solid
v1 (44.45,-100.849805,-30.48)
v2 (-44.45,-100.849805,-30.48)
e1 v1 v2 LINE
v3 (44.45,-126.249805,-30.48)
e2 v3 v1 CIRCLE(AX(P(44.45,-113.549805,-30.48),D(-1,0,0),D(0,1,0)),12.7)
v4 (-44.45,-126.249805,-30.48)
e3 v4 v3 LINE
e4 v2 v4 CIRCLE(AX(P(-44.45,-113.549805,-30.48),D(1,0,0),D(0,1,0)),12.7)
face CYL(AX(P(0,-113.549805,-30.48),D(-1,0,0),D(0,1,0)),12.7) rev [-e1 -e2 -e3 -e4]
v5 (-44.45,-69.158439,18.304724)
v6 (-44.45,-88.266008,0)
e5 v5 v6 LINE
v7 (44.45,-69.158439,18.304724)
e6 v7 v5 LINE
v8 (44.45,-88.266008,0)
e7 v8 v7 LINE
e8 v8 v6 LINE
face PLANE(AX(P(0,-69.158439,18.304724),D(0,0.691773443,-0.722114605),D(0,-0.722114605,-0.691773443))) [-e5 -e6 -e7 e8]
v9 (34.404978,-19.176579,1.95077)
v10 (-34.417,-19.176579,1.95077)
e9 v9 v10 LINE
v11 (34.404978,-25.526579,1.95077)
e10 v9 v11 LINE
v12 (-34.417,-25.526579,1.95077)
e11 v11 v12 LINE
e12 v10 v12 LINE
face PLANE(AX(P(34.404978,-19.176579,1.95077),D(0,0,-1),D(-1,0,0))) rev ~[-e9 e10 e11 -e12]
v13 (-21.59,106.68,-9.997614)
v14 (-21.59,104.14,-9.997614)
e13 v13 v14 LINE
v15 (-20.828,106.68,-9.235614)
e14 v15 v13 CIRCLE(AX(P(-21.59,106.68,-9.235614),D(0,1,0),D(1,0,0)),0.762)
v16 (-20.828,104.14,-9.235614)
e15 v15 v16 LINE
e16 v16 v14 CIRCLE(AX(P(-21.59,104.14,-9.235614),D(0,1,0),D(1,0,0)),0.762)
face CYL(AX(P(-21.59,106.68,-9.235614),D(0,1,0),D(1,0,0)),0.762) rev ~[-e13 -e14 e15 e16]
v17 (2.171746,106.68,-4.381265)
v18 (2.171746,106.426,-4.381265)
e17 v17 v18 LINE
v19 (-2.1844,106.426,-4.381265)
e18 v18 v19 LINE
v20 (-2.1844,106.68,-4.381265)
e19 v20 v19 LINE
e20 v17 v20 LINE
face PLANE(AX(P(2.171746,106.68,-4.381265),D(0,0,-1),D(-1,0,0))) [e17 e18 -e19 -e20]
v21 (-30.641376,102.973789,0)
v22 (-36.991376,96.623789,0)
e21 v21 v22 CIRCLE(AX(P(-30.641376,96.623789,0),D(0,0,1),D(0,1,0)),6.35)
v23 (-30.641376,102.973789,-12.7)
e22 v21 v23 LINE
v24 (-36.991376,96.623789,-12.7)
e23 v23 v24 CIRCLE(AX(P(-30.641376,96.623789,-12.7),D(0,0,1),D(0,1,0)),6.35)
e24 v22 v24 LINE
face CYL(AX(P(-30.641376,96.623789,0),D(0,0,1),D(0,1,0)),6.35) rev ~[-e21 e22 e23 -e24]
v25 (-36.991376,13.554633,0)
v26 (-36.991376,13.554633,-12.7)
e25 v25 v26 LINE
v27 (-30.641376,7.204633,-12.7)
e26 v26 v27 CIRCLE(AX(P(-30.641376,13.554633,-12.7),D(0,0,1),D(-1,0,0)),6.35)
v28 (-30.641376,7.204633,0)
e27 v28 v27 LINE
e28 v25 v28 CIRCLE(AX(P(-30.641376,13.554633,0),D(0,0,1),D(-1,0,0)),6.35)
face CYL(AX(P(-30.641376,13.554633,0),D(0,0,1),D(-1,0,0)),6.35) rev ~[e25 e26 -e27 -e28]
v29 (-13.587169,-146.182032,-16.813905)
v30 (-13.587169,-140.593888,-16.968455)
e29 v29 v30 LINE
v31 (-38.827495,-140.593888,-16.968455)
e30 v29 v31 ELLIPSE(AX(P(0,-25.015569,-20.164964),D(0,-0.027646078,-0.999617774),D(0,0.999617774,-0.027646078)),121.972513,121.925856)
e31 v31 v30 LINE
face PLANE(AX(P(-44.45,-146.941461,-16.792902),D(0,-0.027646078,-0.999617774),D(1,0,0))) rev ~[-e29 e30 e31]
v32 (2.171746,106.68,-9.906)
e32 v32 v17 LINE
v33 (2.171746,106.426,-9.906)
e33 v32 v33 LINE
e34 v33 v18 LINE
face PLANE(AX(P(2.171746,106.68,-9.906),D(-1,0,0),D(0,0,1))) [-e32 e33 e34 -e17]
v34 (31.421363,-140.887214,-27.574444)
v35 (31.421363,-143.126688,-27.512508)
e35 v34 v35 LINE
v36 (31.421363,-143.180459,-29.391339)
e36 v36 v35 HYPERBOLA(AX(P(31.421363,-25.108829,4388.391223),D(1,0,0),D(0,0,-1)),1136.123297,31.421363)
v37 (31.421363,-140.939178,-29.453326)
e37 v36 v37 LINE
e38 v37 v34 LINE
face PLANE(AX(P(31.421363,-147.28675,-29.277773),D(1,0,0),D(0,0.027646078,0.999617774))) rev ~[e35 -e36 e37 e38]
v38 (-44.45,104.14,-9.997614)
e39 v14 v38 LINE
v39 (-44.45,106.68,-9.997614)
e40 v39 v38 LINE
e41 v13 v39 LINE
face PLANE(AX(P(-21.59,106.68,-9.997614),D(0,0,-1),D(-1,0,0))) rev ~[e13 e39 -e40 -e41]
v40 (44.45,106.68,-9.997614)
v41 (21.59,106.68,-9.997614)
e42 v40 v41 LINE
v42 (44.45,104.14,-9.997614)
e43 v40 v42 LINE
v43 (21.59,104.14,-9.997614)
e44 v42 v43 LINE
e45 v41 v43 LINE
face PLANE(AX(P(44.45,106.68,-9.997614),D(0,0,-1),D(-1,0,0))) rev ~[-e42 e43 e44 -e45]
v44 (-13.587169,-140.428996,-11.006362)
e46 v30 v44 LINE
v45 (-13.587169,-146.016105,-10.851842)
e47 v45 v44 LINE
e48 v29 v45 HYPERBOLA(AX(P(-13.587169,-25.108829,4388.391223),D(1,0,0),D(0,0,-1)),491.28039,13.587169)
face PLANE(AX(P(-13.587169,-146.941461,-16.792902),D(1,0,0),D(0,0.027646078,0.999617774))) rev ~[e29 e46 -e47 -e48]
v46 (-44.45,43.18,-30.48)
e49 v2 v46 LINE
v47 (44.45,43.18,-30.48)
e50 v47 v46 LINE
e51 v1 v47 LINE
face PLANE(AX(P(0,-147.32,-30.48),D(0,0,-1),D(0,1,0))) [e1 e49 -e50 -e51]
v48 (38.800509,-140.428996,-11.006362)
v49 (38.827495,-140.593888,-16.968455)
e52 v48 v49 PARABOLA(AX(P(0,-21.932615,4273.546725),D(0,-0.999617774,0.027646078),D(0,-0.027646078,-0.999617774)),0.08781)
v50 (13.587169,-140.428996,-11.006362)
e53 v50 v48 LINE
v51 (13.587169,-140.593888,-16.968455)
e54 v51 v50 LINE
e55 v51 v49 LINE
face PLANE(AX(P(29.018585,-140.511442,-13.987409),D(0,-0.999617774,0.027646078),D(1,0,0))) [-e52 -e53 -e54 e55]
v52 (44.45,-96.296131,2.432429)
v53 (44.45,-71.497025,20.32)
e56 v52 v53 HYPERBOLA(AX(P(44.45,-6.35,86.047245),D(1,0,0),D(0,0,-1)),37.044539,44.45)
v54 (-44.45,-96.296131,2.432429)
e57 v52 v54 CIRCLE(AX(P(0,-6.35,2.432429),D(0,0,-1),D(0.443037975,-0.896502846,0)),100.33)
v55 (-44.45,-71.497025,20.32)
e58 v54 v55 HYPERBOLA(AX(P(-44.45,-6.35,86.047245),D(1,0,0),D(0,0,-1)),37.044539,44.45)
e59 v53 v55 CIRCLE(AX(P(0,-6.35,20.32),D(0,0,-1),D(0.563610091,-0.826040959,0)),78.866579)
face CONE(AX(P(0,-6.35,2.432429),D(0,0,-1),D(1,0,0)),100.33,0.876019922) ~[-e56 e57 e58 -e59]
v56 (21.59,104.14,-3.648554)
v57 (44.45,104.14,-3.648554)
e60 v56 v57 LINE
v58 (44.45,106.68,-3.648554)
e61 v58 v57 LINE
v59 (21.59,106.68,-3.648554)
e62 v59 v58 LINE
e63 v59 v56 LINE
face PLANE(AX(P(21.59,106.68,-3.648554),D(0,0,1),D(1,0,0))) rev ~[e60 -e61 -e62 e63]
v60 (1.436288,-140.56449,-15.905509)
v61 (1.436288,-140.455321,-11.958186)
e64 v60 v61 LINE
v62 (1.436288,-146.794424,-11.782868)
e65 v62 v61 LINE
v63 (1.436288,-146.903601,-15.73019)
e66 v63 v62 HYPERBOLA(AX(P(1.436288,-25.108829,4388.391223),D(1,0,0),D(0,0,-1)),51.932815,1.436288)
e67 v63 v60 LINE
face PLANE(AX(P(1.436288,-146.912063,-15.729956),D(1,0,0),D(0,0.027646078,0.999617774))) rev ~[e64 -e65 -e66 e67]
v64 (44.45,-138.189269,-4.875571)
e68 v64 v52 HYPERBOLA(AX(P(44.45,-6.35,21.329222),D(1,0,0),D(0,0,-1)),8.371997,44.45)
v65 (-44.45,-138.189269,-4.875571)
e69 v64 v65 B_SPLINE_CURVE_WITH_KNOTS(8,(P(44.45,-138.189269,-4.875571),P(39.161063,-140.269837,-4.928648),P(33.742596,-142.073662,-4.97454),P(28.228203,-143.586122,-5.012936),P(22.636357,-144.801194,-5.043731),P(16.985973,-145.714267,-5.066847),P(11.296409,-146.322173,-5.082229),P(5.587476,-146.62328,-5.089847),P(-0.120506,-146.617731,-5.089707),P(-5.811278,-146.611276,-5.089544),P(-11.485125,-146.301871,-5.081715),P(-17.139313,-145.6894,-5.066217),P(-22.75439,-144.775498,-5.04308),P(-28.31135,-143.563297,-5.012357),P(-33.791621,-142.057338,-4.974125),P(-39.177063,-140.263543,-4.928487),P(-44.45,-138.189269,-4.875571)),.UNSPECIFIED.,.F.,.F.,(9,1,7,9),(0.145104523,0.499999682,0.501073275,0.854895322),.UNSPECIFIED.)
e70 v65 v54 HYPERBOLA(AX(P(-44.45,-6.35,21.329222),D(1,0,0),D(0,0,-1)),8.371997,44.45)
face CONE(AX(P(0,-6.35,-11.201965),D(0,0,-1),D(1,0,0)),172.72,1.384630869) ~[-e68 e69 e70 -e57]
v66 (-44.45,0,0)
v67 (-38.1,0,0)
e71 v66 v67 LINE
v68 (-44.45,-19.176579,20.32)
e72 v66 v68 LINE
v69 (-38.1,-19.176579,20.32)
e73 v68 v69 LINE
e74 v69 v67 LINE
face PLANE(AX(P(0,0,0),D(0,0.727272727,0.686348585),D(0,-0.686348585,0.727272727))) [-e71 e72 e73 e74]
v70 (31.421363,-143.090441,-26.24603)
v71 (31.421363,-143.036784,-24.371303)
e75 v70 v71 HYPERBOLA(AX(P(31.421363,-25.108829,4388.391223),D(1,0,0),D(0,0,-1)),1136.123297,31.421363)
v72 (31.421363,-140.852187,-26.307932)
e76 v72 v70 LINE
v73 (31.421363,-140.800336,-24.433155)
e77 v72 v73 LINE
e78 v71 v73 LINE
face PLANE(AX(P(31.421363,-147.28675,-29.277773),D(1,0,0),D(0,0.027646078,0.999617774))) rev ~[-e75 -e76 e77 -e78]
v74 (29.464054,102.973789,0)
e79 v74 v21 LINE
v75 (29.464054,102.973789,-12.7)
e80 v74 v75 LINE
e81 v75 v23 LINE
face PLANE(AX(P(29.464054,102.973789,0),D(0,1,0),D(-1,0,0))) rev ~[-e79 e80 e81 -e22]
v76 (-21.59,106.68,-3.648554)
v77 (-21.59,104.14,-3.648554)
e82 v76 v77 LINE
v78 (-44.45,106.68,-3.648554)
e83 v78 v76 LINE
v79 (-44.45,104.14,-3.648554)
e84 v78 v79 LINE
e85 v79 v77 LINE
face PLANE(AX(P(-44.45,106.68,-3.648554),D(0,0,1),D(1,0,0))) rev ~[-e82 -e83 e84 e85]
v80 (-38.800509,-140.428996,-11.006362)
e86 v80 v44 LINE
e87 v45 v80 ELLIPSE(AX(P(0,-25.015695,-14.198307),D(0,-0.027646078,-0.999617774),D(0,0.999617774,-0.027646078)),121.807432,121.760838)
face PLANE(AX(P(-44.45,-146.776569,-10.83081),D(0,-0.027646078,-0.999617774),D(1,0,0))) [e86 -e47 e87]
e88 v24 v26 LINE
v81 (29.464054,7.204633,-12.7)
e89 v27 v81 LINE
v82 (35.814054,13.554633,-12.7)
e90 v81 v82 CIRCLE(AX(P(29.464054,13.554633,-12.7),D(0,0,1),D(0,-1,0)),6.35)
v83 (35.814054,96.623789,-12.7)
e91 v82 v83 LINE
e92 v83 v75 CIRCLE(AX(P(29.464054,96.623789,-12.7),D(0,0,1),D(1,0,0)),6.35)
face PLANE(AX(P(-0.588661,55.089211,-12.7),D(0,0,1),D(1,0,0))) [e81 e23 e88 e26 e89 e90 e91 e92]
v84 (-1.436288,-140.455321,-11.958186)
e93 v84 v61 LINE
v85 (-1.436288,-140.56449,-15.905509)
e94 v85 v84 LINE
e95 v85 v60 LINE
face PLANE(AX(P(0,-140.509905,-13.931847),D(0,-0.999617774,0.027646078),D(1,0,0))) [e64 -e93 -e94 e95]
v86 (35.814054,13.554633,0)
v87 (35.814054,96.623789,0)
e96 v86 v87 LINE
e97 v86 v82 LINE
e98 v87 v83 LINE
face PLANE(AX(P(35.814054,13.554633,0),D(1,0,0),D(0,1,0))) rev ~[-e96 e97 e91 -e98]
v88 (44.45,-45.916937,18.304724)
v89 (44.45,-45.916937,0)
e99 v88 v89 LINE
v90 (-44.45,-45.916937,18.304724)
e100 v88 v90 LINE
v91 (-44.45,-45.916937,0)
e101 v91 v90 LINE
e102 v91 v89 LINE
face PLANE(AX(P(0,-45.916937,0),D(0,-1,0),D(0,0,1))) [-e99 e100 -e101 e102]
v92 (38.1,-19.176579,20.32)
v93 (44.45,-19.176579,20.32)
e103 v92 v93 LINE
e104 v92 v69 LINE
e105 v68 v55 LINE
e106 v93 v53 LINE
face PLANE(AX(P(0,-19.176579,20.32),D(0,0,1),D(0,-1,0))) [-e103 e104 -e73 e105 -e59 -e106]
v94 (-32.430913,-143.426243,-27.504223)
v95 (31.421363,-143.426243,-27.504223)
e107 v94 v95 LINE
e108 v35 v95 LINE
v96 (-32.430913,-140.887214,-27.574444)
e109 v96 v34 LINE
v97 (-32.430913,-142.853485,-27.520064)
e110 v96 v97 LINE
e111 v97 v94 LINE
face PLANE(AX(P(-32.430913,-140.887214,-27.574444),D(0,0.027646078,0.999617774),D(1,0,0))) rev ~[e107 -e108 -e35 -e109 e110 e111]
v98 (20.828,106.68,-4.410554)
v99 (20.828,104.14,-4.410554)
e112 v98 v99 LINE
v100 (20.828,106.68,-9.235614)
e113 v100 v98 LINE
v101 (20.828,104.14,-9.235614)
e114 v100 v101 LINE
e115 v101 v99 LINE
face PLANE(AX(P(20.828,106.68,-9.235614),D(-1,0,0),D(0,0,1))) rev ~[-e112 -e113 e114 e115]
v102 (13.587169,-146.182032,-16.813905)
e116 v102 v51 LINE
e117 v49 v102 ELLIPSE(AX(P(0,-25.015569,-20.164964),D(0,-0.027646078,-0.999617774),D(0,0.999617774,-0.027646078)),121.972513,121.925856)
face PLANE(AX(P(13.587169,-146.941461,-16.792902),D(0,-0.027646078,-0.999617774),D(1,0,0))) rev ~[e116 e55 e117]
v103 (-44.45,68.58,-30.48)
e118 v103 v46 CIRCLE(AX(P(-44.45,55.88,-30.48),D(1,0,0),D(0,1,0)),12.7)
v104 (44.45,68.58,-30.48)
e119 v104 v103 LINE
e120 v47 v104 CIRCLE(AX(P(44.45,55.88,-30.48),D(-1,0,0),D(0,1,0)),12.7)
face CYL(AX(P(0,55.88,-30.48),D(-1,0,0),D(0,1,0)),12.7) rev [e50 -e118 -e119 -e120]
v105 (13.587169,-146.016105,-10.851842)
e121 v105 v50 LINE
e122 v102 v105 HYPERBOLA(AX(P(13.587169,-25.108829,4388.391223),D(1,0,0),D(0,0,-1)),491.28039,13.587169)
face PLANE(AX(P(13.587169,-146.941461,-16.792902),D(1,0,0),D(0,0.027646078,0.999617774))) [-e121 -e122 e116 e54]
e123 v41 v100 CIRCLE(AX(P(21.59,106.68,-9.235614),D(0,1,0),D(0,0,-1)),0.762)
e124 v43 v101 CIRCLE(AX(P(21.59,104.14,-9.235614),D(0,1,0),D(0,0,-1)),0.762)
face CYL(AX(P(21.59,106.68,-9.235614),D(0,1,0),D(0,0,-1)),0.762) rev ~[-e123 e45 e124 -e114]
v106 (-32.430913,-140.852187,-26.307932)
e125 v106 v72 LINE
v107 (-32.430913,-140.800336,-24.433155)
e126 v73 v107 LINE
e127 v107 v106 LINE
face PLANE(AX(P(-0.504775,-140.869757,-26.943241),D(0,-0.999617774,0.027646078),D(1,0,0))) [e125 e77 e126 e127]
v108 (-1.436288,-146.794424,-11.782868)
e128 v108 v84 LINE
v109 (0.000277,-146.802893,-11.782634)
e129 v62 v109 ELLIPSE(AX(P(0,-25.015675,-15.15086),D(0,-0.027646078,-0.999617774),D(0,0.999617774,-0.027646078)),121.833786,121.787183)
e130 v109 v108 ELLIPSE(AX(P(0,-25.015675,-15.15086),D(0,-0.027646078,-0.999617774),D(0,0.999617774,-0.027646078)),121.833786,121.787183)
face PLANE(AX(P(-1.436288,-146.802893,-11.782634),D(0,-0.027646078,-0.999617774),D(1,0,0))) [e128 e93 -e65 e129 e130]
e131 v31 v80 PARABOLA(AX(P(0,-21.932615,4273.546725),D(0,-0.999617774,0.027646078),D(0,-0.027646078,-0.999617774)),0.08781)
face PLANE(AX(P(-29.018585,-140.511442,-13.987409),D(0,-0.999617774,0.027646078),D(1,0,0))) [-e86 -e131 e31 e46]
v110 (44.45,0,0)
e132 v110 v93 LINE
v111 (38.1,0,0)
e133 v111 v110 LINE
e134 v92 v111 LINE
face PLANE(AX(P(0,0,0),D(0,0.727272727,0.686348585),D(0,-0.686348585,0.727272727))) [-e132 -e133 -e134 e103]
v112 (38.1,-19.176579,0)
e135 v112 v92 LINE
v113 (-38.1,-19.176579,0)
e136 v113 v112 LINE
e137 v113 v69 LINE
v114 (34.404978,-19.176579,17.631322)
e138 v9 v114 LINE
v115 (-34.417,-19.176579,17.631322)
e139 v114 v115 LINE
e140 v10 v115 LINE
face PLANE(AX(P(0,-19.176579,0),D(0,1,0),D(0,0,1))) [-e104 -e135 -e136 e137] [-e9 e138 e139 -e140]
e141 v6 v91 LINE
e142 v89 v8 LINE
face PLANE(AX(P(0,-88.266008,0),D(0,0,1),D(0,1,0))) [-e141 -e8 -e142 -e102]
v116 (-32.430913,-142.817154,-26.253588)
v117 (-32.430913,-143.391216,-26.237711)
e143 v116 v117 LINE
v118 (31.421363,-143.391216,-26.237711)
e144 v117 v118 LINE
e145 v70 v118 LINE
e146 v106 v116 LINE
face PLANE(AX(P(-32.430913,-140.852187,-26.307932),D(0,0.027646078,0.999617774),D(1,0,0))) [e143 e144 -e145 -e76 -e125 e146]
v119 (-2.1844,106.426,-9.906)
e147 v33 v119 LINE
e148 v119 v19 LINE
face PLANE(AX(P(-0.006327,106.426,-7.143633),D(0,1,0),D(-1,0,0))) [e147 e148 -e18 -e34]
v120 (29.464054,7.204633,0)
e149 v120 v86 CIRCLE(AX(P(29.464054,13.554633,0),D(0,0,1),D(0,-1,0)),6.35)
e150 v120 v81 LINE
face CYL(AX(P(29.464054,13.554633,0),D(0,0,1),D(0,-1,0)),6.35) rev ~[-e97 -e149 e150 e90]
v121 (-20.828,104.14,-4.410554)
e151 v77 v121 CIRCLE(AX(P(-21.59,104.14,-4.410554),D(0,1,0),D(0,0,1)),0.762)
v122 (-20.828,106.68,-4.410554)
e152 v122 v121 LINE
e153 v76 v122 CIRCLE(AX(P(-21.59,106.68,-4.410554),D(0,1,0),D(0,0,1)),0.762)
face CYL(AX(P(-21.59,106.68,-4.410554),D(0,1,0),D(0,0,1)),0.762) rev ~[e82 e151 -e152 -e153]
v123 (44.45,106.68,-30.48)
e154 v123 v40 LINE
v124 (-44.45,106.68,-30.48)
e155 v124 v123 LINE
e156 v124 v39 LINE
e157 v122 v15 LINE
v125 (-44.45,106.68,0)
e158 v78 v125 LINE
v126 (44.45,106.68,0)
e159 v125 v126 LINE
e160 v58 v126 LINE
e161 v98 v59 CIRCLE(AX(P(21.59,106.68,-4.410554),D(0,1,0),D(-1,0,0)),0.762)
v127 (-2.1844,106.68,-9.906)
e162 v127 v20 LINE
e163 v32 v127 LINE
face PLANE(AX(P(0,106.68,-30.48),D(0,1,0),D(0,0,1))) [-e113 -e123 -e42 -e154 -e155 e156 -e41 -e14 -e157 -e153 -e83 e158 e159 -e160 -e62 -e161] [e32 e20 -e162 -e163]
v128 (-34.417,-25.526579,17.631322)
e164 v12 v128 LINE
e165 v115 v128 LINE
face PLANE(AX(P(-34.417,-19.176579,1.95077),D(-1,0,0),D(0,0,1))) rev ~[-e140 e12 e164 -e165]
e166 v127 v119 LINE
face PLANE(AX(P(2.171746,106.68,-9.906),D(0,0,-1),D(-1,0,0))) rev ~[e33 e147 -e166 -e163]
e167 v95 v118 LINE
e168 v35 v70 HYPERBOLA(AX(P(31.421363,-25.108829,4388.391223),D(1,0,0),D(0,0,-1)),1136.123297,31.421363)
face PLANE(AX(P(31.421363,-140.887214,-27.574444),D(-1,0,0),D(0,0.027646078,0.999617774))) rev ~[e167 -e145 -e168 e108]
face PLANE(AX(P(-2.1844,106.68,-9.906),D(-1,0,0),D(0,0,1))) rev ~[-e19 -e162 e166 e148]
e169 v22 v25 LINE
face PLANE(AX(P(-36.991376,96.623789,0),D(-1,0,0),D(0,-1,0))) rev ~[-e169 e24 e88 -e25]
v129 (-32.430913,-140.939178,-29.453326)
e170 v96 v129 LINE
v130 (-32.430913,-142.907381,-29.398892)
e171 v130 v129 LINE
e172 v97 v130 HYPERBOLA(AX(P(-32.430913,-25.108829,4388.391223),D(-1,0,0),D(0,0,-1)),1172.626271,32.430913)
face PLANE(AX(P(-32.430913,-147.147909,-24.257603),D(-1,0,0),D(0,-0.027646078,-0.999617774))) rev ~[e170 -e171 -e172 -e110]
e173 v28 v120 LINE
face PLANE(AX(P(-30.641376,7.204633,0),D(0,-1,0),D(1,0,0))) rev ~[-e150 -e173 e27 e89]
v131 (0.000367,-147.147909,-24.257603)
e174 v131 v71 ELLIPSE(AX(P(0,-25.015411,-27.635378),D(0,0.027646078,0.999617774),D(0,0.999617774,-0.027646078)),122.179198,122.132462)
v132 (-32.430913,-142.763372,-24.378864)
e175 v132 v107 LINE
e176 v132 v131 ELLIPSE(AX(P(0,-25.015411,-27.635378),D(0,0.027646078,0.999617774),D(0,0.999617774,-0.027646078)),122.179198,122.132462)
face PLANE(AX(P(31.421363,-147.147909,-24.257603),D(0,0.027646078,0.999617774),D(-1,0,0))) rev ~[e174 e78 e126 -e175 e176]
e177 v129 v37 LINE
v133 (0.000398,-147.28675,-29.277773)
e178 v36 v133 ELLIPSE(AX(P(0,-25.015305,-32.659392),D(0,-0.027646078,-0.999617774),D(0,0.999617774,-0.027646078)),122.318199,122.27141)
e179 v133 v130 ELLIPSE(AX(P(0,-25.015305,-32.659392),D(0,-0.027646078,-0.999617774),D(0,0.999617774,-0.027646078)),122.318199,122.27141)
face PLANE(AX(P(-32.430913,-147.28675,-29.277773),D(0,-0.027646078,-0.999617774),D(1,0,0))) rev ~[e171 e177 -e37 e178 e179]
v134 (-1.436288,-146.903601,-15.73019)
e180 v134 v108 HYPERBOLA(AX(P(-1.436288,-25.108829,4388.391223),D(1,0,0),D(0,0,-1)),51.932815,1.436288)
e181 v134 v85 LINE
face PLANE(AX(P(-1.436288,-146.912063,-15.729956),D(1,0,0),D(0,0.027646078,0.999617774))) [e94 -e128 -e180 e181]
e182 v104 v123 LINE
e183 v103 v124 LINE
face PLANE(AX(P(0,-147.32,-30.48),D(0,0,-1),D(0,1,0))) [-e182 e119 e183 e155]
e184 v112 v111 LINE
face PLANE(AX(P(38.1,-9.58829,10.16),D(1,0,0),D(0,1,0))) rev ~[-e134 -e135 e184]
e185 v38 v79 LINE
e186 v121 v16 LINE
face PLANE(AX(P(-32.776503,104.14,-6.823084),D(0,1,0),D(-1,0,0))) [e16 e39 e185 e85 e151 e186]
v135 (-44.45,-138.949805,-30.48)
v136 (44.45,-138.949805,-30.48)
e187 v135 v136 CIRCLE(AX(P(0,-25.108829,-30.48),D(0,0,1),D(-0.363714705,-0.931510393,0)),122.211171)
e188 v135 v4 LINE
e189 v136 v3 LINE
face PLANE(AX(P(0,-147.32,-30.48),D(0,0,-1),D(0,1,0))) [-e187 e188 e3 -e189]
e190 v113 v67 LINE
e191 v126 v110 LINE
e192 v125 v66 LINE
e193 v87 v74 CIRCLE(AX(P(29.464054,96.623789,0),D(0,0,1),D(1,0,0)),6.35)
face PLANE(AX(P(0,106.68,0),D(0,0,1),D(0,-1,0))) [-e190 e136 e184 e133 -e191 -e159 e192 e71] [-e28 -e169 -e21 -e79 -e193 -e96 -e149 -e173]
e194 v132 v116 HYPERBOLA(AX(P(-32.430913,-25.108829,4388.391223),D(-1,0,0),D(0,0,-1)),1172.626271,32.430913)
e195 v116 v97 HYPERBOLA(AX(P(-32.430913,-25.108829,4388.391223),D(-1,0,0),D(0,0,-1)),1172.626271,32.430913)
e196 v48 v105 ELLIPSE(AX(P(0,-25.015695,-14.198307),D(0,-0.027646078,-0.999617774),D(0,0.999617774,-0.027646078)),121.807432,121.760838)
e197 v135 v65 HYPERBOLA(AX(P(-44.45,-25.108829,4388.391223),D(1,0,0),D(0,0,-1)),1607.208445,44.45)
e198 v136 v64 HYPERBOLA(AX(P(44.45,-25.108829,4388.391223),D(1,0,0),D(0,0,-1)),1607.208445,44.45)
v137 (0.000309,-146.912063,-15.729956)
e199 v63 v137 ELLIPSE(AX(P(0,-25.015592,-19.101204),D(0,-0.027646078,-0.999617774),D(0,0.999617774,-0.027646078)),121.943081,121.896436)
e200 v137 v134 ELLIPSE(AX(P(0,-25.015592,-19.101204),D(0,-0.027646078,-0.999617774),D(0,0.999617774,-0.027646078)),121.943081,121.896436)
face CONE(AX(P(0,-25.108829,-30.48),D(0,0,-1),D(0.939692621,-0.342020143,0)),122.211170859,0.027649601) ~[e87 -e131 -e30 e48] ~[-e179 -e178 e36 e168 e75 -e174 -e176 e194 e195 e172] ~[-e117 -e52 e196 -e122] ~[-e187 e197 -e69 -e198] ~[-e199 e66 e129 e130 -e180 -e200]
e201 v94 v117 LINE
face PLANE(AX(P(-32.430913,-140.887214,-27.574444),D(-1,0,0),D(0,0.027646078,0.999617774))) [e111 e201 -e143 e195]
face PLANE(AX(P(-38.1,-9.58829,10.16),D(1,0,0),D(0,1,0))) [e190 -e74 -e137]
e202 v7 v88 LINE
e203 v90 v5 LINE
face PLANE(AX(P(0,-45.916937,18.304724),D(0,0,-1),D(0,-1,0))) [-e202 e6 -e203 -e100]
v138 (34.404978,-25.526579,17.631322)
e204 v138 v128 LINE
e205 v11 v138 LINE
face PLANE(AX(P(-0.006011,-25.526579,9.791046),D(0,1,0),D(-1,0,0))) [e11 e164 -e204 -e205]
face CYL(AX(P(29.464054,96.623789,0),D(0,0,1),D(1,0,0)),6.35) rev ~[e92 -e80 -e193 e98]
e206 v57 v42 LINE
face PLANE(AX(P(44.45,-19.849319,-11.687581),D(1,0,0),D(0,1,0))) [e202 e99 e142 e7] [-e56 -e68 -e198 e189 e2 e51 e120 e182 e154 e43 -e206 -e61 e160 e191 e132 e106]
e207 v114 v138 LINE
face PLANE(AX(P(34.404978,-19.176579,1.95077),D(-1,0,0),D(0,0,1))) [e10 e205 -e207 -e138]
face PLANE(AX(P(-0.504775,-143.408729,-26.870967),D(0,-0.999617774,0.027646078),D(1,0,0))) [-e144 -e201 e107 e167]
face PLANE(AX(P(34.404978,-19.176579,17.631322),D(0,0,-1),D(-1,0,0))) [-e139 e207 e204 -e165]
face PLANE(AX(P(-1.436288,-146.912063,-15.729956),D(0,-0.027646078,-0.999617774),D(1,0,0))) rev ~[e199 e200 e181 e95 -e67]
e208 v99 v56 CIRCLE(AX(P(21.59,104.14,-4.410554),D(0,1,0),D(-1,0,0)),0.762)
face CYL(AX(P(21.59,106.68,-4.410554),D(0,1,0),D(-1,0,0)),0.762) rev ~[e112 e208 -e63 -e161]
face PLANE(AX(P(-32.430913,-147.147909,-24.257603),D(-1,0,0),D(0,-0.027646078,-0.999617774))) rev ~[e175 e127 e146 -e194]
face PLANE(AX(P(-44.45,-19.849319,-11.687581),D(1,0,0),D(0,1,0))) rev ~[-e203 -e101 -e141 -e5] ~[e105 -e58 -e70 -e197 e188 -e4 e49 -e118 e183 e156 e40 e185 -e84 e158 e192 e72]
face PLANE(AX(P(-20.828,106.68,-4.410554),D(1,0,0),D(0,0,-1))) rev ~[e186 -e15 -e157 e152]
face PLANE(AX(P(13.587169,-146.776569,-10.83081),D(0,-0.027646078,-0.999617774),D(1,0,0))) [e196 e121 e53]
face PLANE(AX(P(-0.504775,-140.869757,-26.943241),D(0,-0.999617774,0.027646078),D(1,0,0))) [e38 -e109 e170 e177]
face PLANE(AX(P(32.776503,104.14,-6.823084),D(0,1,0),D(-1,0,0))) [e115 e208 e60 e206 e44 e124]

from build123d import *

# Parameters (mm, degrees)
F1_DEPTH       = 44.45
F3_ANGLE_BACK  = 90
F3_ANGLE       = 180
F5_DEPTH       = 12.7
F7_W           = 19.1765794656
F7_H           = 20.32
F8_DEPTH       = 38.1
F9_W           = 68.8219781561
F9_H           = 15.6805519946
F10_DEPTH      = 6.35
F12_DEPTH      = 2.54
F14_DEPTH      = 44.451
F14_DEPTH_BACK = 44.451
F15_W          = 4.3561459895
F15_H          = 5.5247349744
F16_DEPTH      = 0.254
F17_W          = 30.8628306508
F17_H          = 5.9643723071
F17_W_2        = 2.8725753073
F17_H_2        = 3.9488319308
F18_DEPTH      = 6.35
F19_ANGLE_BACK = 70
F19_ANGLE      = 140
F21_DEPTH      = 44.4510001
F21_DEPTH_BACK = 44.4510001
F22_W          = 63.8522766531
F22_H          = 1.2669962529
F23_DEPTH      = 2.54


with BuildPart() as f1:
    # F0 (on Right) → F1 (new body, symmetric)
    with BuildSketch(Plane.YZ):
        Polygon((-146.6177896183, -5.0897085369), (-147.32, -30.48), (106.68, -30.48), (106.68, 0), (0, 0), (-19.1765794656, 20.32), (-85.2165794656, 20.32), (-106.68, 2.4324294841), align=None)
    extrude(amount=F1_DEPTH, both=True)

    # F2 (on Right) → F3 (revolve, cut)
    with BuildSketch(Plane.YZ, mode=Mode.PRIVATE) as f3_sk:
        Polygon((-106.68, 2.4324294841), (-62.3583516914, 39.37), (-179.07, 39.37), (-179.07, -11.2019648213), align=None)
    revolve(f3_sk.sketch.rotate(Axis((0, -6.35, 51.4768799767), (0, 0, -1)), -F3_ANGLE_BACK), axis=Axis((0, -6.35, 51.4768799767), (0, 0, -1)), revolution_arc=F3_ANGLE, mode=Mode.SUBTRACT)

    # F4 (on face) → F5 (cut)
    with BuildSketch(Plane.XY):
        with BuildLine():
            Line((-30.6413764298, 7.2046327405), (29.4640543103, 7.2046327405))
            ThreePointArc((29.4640543103, 7.2046327405), (33.9541823709, 9.0645046799), (35.8140543103, 13.5546327405))
            Line((35.8140543103, 13.5546327405), (35.8140543103, 96.6237889767))
            ThreePointArc((35.8140543103, 96.6237889767), (33.9541823709, 101.1139170372), (29.4640543103, 102.9737889767))
            Line((29.4640543103, 102.9737889767), (-30.6413764298, 102.9737889767))
            ThreePointArc((-30.6413764298, 102.9737889767), (-35.1315044903, 101.1139170372), (-36.9913764298, 96.6237889767))
            Line((-36.9913764298, 96.6237889767), (-36.9913764298, 13.5546327405))
            ThreePointArc((-36.9913764298, 13.5546327405), (-35.1315044903, 9.0645046799), (-30.6413764298, 7.2046327405))
        make_face()
    extrude(amount=-F5_DEPTH, mode=Mode.SUBTRACT)

    # F7 (on Right) → F8 (cut, symmetric)
    with BuildSketch(Plane.YZ):
        with Locations((-9.5882897328, 10.16)):
            Rectangle(F7_W, F7_H)
    extrude(amount=F8_DEPTH, both=True, mode=Mode.SUBTRACT)

    # F9 (on face) → F10 (cut)
    with BuildSketch(Plane(origin=(0, -19.1765794656, 0), x_dir=(-1, 0, 0), z_dir=(0, 1, 0))):
        with Locations((0.006010922, 9.7910461482)):
            Rectangle(F9_W, F9_H)
    extrude(amount=-F10_DEPTH, mode=Mode.SUBTRACT)

    # F11 (on face) → F12 (cut)
    with BuildSketch(Plane(origin=(0, 106.68, 0), x_dir=(-1, 0, 0), z_dir=(0, 1, 0))):
        with BuildLine():
            Line((-21.59, -3.6485542078), (-44.45, -3.6485542078))
            Line((-44.45, -3.6485542078), (-44.45, -9.9976139794))
            Line((-44.45, -9.9976139794), (-21.59, -9.9976139794))
            ThreePointArc((-21.59, -9.9976139794), (-21.0511846327, -9.7744293467), (-20.828, -9.2356139794))
            Line((-20.828, -9.2356139794), (-20.828, -4.4105542078))
            ThreePointArc((-20.828, -4.4105542078), (-21.0511846327, -3.8717388405), (-21.59, -3.6485542078))
        make_face()
        with BuildLine():
            Line((44.45, -9.9976139794), (44.45, -3.6485542078))
            Line((44.45, -3.6485542078), (21.59, -3.6485542078))
            ThreePointArc((21.59, -3.6485542078), (21.0511846327, -3.8717388405), (20.828, -4.4105542078))
            Line((20.828, -4.4105542078), (20.828, -9.2356139794))
            ThreePointArc((20.828, -9.2356139794), (21.0511846327, -9.7744293467), (21.59, -9.9976139794))
            Line((21.59, -9.9976139794), (44.45, -9.9976139794))
        make_face()
    extrude(amount=-F12_DEPTH, mode=Mode.SUBTRACT)

    # F13 (on Right) → F14 (cut, two sides)
    with BuildSketch(Plane.YZ) as f14_sk:
        Polygon((-88.2660076022, 0), (-45.9169372916, 0), (-45.9169372916, 18.3047242463), (-69.1584387047, 18.3047242463), align=None)
    extrude(amount=-F14_DEPTH, mode=Mode.SUBTRACT)
    extrude(f14_sk.sketch, amount=F14_DEPTH_BACK, mode=Mode.SUBTRACT)

    # F15 (on face) → F16 (cut)
    with BuildSketch(Plane(origin=(0, 106.68, 0), x_dir=(-1, 0, 0), z_dir=(0, 1, 0))):
        with Locations((0.0063270053, -7.1436325128)):
            Rectangle(F15_W, F15_H)
    extrude(amount=-F16_DEPTH, mode=Mode.SUBTRACT)

    # F17 (on face) → F18 (cut)
    with BuildSketch(Plane(origin=(0, -146.3650721201, 4.0479674412), x_dir=(1, 0, 0), z_dir=(0, -0.9996177741, 0.027646078))):
        with Locations((-29.0185846746, -17.8666524589)):
            Rectangle(F17_W, F17_H)
        with Locations((29.0185846746, -17.8666524589)):
            Rectangle(F17_W, F17_H)
        with Locations((0, -17.8110701963)):
            Rectangle(F17_W_2, F17_H_2)
        Polygon((-32.4309132993, -33.338483423), (31.4213633537, -33.338483423), (31.4213633537, -31.7079313099), (31.4213633537, -30.8274384588), (31.4213633537, -28.3163934946), (-32.4309132993, -28.3163934946), (-32.4309132993, -30.8274384588), (-32.4309132993, -31.7079313099), align=None)
    extrude(amount=-F18_DEPTH, mode=Mode.SUBTRACT)

    # F6 (on Right) → F19 (revolve, cut)
    with BuildSketch(Plane.YZ, mode=Mode.PRIVATE) as f19_sk:
        Polygon((-181.2299340963, -30.48), (-147.32, -30.48), (-146.1423057277, 12.1026812121), (-181.2299340963, 12.1026812121), align=None)
    revolve(f19_sk.sketch.rotate(Axis((0, -25.1088291407, 39.4888808951), (0, 0, -1)), -F19_ANGLE_BACK), axis=Axis((0, -25.1088291407, 39.4888808951), (0, 0, -1)), revolution_arc=F19_ANGLE, mode=Mode.SUBTRACT)

    # F20 (on Right) → F21 (cut, two sides)
    with BuildSketch(Plane.YZ) as f21_sk:
        with BuildLine():
            Line((-126.2498049921, -30.48), (-100.8498049921, -30.48))
            ThreePointArc((-100.8498049921, -30.48), (-113.5498049921, -17.78), (-126.2498049921, -30.48))
        make_face()
        with BuildLine():
            Line((43.18, -30.48), (68.58, -30.48))
            ThreePointArc((68.58, -30.48), (55.88, -17.78), (43.18, -30.48))
        make_face()
    extrude(amount=F21_DEPTH, mode=Mode.SUBTRACT)
    extrude(f21_sk.sketch, amount=-F21_DEPTH_BACK, mode=Mode.SUBTRACT)

    # F22 (on face) → F23 (join)
    with BuildSketch(Plane(origin=(0, -140.0174992543, 3.8724148458), x_dir=(1, 0, 0), z_dir=(0, -0.9996177741, 0.027646078))):
        with Locations((-0.5047749728, -30.8253852965)):
            Rectangle(F22_W, F22_H)
    extrude(amount=F23_DEPTH)


solid = f1.part
